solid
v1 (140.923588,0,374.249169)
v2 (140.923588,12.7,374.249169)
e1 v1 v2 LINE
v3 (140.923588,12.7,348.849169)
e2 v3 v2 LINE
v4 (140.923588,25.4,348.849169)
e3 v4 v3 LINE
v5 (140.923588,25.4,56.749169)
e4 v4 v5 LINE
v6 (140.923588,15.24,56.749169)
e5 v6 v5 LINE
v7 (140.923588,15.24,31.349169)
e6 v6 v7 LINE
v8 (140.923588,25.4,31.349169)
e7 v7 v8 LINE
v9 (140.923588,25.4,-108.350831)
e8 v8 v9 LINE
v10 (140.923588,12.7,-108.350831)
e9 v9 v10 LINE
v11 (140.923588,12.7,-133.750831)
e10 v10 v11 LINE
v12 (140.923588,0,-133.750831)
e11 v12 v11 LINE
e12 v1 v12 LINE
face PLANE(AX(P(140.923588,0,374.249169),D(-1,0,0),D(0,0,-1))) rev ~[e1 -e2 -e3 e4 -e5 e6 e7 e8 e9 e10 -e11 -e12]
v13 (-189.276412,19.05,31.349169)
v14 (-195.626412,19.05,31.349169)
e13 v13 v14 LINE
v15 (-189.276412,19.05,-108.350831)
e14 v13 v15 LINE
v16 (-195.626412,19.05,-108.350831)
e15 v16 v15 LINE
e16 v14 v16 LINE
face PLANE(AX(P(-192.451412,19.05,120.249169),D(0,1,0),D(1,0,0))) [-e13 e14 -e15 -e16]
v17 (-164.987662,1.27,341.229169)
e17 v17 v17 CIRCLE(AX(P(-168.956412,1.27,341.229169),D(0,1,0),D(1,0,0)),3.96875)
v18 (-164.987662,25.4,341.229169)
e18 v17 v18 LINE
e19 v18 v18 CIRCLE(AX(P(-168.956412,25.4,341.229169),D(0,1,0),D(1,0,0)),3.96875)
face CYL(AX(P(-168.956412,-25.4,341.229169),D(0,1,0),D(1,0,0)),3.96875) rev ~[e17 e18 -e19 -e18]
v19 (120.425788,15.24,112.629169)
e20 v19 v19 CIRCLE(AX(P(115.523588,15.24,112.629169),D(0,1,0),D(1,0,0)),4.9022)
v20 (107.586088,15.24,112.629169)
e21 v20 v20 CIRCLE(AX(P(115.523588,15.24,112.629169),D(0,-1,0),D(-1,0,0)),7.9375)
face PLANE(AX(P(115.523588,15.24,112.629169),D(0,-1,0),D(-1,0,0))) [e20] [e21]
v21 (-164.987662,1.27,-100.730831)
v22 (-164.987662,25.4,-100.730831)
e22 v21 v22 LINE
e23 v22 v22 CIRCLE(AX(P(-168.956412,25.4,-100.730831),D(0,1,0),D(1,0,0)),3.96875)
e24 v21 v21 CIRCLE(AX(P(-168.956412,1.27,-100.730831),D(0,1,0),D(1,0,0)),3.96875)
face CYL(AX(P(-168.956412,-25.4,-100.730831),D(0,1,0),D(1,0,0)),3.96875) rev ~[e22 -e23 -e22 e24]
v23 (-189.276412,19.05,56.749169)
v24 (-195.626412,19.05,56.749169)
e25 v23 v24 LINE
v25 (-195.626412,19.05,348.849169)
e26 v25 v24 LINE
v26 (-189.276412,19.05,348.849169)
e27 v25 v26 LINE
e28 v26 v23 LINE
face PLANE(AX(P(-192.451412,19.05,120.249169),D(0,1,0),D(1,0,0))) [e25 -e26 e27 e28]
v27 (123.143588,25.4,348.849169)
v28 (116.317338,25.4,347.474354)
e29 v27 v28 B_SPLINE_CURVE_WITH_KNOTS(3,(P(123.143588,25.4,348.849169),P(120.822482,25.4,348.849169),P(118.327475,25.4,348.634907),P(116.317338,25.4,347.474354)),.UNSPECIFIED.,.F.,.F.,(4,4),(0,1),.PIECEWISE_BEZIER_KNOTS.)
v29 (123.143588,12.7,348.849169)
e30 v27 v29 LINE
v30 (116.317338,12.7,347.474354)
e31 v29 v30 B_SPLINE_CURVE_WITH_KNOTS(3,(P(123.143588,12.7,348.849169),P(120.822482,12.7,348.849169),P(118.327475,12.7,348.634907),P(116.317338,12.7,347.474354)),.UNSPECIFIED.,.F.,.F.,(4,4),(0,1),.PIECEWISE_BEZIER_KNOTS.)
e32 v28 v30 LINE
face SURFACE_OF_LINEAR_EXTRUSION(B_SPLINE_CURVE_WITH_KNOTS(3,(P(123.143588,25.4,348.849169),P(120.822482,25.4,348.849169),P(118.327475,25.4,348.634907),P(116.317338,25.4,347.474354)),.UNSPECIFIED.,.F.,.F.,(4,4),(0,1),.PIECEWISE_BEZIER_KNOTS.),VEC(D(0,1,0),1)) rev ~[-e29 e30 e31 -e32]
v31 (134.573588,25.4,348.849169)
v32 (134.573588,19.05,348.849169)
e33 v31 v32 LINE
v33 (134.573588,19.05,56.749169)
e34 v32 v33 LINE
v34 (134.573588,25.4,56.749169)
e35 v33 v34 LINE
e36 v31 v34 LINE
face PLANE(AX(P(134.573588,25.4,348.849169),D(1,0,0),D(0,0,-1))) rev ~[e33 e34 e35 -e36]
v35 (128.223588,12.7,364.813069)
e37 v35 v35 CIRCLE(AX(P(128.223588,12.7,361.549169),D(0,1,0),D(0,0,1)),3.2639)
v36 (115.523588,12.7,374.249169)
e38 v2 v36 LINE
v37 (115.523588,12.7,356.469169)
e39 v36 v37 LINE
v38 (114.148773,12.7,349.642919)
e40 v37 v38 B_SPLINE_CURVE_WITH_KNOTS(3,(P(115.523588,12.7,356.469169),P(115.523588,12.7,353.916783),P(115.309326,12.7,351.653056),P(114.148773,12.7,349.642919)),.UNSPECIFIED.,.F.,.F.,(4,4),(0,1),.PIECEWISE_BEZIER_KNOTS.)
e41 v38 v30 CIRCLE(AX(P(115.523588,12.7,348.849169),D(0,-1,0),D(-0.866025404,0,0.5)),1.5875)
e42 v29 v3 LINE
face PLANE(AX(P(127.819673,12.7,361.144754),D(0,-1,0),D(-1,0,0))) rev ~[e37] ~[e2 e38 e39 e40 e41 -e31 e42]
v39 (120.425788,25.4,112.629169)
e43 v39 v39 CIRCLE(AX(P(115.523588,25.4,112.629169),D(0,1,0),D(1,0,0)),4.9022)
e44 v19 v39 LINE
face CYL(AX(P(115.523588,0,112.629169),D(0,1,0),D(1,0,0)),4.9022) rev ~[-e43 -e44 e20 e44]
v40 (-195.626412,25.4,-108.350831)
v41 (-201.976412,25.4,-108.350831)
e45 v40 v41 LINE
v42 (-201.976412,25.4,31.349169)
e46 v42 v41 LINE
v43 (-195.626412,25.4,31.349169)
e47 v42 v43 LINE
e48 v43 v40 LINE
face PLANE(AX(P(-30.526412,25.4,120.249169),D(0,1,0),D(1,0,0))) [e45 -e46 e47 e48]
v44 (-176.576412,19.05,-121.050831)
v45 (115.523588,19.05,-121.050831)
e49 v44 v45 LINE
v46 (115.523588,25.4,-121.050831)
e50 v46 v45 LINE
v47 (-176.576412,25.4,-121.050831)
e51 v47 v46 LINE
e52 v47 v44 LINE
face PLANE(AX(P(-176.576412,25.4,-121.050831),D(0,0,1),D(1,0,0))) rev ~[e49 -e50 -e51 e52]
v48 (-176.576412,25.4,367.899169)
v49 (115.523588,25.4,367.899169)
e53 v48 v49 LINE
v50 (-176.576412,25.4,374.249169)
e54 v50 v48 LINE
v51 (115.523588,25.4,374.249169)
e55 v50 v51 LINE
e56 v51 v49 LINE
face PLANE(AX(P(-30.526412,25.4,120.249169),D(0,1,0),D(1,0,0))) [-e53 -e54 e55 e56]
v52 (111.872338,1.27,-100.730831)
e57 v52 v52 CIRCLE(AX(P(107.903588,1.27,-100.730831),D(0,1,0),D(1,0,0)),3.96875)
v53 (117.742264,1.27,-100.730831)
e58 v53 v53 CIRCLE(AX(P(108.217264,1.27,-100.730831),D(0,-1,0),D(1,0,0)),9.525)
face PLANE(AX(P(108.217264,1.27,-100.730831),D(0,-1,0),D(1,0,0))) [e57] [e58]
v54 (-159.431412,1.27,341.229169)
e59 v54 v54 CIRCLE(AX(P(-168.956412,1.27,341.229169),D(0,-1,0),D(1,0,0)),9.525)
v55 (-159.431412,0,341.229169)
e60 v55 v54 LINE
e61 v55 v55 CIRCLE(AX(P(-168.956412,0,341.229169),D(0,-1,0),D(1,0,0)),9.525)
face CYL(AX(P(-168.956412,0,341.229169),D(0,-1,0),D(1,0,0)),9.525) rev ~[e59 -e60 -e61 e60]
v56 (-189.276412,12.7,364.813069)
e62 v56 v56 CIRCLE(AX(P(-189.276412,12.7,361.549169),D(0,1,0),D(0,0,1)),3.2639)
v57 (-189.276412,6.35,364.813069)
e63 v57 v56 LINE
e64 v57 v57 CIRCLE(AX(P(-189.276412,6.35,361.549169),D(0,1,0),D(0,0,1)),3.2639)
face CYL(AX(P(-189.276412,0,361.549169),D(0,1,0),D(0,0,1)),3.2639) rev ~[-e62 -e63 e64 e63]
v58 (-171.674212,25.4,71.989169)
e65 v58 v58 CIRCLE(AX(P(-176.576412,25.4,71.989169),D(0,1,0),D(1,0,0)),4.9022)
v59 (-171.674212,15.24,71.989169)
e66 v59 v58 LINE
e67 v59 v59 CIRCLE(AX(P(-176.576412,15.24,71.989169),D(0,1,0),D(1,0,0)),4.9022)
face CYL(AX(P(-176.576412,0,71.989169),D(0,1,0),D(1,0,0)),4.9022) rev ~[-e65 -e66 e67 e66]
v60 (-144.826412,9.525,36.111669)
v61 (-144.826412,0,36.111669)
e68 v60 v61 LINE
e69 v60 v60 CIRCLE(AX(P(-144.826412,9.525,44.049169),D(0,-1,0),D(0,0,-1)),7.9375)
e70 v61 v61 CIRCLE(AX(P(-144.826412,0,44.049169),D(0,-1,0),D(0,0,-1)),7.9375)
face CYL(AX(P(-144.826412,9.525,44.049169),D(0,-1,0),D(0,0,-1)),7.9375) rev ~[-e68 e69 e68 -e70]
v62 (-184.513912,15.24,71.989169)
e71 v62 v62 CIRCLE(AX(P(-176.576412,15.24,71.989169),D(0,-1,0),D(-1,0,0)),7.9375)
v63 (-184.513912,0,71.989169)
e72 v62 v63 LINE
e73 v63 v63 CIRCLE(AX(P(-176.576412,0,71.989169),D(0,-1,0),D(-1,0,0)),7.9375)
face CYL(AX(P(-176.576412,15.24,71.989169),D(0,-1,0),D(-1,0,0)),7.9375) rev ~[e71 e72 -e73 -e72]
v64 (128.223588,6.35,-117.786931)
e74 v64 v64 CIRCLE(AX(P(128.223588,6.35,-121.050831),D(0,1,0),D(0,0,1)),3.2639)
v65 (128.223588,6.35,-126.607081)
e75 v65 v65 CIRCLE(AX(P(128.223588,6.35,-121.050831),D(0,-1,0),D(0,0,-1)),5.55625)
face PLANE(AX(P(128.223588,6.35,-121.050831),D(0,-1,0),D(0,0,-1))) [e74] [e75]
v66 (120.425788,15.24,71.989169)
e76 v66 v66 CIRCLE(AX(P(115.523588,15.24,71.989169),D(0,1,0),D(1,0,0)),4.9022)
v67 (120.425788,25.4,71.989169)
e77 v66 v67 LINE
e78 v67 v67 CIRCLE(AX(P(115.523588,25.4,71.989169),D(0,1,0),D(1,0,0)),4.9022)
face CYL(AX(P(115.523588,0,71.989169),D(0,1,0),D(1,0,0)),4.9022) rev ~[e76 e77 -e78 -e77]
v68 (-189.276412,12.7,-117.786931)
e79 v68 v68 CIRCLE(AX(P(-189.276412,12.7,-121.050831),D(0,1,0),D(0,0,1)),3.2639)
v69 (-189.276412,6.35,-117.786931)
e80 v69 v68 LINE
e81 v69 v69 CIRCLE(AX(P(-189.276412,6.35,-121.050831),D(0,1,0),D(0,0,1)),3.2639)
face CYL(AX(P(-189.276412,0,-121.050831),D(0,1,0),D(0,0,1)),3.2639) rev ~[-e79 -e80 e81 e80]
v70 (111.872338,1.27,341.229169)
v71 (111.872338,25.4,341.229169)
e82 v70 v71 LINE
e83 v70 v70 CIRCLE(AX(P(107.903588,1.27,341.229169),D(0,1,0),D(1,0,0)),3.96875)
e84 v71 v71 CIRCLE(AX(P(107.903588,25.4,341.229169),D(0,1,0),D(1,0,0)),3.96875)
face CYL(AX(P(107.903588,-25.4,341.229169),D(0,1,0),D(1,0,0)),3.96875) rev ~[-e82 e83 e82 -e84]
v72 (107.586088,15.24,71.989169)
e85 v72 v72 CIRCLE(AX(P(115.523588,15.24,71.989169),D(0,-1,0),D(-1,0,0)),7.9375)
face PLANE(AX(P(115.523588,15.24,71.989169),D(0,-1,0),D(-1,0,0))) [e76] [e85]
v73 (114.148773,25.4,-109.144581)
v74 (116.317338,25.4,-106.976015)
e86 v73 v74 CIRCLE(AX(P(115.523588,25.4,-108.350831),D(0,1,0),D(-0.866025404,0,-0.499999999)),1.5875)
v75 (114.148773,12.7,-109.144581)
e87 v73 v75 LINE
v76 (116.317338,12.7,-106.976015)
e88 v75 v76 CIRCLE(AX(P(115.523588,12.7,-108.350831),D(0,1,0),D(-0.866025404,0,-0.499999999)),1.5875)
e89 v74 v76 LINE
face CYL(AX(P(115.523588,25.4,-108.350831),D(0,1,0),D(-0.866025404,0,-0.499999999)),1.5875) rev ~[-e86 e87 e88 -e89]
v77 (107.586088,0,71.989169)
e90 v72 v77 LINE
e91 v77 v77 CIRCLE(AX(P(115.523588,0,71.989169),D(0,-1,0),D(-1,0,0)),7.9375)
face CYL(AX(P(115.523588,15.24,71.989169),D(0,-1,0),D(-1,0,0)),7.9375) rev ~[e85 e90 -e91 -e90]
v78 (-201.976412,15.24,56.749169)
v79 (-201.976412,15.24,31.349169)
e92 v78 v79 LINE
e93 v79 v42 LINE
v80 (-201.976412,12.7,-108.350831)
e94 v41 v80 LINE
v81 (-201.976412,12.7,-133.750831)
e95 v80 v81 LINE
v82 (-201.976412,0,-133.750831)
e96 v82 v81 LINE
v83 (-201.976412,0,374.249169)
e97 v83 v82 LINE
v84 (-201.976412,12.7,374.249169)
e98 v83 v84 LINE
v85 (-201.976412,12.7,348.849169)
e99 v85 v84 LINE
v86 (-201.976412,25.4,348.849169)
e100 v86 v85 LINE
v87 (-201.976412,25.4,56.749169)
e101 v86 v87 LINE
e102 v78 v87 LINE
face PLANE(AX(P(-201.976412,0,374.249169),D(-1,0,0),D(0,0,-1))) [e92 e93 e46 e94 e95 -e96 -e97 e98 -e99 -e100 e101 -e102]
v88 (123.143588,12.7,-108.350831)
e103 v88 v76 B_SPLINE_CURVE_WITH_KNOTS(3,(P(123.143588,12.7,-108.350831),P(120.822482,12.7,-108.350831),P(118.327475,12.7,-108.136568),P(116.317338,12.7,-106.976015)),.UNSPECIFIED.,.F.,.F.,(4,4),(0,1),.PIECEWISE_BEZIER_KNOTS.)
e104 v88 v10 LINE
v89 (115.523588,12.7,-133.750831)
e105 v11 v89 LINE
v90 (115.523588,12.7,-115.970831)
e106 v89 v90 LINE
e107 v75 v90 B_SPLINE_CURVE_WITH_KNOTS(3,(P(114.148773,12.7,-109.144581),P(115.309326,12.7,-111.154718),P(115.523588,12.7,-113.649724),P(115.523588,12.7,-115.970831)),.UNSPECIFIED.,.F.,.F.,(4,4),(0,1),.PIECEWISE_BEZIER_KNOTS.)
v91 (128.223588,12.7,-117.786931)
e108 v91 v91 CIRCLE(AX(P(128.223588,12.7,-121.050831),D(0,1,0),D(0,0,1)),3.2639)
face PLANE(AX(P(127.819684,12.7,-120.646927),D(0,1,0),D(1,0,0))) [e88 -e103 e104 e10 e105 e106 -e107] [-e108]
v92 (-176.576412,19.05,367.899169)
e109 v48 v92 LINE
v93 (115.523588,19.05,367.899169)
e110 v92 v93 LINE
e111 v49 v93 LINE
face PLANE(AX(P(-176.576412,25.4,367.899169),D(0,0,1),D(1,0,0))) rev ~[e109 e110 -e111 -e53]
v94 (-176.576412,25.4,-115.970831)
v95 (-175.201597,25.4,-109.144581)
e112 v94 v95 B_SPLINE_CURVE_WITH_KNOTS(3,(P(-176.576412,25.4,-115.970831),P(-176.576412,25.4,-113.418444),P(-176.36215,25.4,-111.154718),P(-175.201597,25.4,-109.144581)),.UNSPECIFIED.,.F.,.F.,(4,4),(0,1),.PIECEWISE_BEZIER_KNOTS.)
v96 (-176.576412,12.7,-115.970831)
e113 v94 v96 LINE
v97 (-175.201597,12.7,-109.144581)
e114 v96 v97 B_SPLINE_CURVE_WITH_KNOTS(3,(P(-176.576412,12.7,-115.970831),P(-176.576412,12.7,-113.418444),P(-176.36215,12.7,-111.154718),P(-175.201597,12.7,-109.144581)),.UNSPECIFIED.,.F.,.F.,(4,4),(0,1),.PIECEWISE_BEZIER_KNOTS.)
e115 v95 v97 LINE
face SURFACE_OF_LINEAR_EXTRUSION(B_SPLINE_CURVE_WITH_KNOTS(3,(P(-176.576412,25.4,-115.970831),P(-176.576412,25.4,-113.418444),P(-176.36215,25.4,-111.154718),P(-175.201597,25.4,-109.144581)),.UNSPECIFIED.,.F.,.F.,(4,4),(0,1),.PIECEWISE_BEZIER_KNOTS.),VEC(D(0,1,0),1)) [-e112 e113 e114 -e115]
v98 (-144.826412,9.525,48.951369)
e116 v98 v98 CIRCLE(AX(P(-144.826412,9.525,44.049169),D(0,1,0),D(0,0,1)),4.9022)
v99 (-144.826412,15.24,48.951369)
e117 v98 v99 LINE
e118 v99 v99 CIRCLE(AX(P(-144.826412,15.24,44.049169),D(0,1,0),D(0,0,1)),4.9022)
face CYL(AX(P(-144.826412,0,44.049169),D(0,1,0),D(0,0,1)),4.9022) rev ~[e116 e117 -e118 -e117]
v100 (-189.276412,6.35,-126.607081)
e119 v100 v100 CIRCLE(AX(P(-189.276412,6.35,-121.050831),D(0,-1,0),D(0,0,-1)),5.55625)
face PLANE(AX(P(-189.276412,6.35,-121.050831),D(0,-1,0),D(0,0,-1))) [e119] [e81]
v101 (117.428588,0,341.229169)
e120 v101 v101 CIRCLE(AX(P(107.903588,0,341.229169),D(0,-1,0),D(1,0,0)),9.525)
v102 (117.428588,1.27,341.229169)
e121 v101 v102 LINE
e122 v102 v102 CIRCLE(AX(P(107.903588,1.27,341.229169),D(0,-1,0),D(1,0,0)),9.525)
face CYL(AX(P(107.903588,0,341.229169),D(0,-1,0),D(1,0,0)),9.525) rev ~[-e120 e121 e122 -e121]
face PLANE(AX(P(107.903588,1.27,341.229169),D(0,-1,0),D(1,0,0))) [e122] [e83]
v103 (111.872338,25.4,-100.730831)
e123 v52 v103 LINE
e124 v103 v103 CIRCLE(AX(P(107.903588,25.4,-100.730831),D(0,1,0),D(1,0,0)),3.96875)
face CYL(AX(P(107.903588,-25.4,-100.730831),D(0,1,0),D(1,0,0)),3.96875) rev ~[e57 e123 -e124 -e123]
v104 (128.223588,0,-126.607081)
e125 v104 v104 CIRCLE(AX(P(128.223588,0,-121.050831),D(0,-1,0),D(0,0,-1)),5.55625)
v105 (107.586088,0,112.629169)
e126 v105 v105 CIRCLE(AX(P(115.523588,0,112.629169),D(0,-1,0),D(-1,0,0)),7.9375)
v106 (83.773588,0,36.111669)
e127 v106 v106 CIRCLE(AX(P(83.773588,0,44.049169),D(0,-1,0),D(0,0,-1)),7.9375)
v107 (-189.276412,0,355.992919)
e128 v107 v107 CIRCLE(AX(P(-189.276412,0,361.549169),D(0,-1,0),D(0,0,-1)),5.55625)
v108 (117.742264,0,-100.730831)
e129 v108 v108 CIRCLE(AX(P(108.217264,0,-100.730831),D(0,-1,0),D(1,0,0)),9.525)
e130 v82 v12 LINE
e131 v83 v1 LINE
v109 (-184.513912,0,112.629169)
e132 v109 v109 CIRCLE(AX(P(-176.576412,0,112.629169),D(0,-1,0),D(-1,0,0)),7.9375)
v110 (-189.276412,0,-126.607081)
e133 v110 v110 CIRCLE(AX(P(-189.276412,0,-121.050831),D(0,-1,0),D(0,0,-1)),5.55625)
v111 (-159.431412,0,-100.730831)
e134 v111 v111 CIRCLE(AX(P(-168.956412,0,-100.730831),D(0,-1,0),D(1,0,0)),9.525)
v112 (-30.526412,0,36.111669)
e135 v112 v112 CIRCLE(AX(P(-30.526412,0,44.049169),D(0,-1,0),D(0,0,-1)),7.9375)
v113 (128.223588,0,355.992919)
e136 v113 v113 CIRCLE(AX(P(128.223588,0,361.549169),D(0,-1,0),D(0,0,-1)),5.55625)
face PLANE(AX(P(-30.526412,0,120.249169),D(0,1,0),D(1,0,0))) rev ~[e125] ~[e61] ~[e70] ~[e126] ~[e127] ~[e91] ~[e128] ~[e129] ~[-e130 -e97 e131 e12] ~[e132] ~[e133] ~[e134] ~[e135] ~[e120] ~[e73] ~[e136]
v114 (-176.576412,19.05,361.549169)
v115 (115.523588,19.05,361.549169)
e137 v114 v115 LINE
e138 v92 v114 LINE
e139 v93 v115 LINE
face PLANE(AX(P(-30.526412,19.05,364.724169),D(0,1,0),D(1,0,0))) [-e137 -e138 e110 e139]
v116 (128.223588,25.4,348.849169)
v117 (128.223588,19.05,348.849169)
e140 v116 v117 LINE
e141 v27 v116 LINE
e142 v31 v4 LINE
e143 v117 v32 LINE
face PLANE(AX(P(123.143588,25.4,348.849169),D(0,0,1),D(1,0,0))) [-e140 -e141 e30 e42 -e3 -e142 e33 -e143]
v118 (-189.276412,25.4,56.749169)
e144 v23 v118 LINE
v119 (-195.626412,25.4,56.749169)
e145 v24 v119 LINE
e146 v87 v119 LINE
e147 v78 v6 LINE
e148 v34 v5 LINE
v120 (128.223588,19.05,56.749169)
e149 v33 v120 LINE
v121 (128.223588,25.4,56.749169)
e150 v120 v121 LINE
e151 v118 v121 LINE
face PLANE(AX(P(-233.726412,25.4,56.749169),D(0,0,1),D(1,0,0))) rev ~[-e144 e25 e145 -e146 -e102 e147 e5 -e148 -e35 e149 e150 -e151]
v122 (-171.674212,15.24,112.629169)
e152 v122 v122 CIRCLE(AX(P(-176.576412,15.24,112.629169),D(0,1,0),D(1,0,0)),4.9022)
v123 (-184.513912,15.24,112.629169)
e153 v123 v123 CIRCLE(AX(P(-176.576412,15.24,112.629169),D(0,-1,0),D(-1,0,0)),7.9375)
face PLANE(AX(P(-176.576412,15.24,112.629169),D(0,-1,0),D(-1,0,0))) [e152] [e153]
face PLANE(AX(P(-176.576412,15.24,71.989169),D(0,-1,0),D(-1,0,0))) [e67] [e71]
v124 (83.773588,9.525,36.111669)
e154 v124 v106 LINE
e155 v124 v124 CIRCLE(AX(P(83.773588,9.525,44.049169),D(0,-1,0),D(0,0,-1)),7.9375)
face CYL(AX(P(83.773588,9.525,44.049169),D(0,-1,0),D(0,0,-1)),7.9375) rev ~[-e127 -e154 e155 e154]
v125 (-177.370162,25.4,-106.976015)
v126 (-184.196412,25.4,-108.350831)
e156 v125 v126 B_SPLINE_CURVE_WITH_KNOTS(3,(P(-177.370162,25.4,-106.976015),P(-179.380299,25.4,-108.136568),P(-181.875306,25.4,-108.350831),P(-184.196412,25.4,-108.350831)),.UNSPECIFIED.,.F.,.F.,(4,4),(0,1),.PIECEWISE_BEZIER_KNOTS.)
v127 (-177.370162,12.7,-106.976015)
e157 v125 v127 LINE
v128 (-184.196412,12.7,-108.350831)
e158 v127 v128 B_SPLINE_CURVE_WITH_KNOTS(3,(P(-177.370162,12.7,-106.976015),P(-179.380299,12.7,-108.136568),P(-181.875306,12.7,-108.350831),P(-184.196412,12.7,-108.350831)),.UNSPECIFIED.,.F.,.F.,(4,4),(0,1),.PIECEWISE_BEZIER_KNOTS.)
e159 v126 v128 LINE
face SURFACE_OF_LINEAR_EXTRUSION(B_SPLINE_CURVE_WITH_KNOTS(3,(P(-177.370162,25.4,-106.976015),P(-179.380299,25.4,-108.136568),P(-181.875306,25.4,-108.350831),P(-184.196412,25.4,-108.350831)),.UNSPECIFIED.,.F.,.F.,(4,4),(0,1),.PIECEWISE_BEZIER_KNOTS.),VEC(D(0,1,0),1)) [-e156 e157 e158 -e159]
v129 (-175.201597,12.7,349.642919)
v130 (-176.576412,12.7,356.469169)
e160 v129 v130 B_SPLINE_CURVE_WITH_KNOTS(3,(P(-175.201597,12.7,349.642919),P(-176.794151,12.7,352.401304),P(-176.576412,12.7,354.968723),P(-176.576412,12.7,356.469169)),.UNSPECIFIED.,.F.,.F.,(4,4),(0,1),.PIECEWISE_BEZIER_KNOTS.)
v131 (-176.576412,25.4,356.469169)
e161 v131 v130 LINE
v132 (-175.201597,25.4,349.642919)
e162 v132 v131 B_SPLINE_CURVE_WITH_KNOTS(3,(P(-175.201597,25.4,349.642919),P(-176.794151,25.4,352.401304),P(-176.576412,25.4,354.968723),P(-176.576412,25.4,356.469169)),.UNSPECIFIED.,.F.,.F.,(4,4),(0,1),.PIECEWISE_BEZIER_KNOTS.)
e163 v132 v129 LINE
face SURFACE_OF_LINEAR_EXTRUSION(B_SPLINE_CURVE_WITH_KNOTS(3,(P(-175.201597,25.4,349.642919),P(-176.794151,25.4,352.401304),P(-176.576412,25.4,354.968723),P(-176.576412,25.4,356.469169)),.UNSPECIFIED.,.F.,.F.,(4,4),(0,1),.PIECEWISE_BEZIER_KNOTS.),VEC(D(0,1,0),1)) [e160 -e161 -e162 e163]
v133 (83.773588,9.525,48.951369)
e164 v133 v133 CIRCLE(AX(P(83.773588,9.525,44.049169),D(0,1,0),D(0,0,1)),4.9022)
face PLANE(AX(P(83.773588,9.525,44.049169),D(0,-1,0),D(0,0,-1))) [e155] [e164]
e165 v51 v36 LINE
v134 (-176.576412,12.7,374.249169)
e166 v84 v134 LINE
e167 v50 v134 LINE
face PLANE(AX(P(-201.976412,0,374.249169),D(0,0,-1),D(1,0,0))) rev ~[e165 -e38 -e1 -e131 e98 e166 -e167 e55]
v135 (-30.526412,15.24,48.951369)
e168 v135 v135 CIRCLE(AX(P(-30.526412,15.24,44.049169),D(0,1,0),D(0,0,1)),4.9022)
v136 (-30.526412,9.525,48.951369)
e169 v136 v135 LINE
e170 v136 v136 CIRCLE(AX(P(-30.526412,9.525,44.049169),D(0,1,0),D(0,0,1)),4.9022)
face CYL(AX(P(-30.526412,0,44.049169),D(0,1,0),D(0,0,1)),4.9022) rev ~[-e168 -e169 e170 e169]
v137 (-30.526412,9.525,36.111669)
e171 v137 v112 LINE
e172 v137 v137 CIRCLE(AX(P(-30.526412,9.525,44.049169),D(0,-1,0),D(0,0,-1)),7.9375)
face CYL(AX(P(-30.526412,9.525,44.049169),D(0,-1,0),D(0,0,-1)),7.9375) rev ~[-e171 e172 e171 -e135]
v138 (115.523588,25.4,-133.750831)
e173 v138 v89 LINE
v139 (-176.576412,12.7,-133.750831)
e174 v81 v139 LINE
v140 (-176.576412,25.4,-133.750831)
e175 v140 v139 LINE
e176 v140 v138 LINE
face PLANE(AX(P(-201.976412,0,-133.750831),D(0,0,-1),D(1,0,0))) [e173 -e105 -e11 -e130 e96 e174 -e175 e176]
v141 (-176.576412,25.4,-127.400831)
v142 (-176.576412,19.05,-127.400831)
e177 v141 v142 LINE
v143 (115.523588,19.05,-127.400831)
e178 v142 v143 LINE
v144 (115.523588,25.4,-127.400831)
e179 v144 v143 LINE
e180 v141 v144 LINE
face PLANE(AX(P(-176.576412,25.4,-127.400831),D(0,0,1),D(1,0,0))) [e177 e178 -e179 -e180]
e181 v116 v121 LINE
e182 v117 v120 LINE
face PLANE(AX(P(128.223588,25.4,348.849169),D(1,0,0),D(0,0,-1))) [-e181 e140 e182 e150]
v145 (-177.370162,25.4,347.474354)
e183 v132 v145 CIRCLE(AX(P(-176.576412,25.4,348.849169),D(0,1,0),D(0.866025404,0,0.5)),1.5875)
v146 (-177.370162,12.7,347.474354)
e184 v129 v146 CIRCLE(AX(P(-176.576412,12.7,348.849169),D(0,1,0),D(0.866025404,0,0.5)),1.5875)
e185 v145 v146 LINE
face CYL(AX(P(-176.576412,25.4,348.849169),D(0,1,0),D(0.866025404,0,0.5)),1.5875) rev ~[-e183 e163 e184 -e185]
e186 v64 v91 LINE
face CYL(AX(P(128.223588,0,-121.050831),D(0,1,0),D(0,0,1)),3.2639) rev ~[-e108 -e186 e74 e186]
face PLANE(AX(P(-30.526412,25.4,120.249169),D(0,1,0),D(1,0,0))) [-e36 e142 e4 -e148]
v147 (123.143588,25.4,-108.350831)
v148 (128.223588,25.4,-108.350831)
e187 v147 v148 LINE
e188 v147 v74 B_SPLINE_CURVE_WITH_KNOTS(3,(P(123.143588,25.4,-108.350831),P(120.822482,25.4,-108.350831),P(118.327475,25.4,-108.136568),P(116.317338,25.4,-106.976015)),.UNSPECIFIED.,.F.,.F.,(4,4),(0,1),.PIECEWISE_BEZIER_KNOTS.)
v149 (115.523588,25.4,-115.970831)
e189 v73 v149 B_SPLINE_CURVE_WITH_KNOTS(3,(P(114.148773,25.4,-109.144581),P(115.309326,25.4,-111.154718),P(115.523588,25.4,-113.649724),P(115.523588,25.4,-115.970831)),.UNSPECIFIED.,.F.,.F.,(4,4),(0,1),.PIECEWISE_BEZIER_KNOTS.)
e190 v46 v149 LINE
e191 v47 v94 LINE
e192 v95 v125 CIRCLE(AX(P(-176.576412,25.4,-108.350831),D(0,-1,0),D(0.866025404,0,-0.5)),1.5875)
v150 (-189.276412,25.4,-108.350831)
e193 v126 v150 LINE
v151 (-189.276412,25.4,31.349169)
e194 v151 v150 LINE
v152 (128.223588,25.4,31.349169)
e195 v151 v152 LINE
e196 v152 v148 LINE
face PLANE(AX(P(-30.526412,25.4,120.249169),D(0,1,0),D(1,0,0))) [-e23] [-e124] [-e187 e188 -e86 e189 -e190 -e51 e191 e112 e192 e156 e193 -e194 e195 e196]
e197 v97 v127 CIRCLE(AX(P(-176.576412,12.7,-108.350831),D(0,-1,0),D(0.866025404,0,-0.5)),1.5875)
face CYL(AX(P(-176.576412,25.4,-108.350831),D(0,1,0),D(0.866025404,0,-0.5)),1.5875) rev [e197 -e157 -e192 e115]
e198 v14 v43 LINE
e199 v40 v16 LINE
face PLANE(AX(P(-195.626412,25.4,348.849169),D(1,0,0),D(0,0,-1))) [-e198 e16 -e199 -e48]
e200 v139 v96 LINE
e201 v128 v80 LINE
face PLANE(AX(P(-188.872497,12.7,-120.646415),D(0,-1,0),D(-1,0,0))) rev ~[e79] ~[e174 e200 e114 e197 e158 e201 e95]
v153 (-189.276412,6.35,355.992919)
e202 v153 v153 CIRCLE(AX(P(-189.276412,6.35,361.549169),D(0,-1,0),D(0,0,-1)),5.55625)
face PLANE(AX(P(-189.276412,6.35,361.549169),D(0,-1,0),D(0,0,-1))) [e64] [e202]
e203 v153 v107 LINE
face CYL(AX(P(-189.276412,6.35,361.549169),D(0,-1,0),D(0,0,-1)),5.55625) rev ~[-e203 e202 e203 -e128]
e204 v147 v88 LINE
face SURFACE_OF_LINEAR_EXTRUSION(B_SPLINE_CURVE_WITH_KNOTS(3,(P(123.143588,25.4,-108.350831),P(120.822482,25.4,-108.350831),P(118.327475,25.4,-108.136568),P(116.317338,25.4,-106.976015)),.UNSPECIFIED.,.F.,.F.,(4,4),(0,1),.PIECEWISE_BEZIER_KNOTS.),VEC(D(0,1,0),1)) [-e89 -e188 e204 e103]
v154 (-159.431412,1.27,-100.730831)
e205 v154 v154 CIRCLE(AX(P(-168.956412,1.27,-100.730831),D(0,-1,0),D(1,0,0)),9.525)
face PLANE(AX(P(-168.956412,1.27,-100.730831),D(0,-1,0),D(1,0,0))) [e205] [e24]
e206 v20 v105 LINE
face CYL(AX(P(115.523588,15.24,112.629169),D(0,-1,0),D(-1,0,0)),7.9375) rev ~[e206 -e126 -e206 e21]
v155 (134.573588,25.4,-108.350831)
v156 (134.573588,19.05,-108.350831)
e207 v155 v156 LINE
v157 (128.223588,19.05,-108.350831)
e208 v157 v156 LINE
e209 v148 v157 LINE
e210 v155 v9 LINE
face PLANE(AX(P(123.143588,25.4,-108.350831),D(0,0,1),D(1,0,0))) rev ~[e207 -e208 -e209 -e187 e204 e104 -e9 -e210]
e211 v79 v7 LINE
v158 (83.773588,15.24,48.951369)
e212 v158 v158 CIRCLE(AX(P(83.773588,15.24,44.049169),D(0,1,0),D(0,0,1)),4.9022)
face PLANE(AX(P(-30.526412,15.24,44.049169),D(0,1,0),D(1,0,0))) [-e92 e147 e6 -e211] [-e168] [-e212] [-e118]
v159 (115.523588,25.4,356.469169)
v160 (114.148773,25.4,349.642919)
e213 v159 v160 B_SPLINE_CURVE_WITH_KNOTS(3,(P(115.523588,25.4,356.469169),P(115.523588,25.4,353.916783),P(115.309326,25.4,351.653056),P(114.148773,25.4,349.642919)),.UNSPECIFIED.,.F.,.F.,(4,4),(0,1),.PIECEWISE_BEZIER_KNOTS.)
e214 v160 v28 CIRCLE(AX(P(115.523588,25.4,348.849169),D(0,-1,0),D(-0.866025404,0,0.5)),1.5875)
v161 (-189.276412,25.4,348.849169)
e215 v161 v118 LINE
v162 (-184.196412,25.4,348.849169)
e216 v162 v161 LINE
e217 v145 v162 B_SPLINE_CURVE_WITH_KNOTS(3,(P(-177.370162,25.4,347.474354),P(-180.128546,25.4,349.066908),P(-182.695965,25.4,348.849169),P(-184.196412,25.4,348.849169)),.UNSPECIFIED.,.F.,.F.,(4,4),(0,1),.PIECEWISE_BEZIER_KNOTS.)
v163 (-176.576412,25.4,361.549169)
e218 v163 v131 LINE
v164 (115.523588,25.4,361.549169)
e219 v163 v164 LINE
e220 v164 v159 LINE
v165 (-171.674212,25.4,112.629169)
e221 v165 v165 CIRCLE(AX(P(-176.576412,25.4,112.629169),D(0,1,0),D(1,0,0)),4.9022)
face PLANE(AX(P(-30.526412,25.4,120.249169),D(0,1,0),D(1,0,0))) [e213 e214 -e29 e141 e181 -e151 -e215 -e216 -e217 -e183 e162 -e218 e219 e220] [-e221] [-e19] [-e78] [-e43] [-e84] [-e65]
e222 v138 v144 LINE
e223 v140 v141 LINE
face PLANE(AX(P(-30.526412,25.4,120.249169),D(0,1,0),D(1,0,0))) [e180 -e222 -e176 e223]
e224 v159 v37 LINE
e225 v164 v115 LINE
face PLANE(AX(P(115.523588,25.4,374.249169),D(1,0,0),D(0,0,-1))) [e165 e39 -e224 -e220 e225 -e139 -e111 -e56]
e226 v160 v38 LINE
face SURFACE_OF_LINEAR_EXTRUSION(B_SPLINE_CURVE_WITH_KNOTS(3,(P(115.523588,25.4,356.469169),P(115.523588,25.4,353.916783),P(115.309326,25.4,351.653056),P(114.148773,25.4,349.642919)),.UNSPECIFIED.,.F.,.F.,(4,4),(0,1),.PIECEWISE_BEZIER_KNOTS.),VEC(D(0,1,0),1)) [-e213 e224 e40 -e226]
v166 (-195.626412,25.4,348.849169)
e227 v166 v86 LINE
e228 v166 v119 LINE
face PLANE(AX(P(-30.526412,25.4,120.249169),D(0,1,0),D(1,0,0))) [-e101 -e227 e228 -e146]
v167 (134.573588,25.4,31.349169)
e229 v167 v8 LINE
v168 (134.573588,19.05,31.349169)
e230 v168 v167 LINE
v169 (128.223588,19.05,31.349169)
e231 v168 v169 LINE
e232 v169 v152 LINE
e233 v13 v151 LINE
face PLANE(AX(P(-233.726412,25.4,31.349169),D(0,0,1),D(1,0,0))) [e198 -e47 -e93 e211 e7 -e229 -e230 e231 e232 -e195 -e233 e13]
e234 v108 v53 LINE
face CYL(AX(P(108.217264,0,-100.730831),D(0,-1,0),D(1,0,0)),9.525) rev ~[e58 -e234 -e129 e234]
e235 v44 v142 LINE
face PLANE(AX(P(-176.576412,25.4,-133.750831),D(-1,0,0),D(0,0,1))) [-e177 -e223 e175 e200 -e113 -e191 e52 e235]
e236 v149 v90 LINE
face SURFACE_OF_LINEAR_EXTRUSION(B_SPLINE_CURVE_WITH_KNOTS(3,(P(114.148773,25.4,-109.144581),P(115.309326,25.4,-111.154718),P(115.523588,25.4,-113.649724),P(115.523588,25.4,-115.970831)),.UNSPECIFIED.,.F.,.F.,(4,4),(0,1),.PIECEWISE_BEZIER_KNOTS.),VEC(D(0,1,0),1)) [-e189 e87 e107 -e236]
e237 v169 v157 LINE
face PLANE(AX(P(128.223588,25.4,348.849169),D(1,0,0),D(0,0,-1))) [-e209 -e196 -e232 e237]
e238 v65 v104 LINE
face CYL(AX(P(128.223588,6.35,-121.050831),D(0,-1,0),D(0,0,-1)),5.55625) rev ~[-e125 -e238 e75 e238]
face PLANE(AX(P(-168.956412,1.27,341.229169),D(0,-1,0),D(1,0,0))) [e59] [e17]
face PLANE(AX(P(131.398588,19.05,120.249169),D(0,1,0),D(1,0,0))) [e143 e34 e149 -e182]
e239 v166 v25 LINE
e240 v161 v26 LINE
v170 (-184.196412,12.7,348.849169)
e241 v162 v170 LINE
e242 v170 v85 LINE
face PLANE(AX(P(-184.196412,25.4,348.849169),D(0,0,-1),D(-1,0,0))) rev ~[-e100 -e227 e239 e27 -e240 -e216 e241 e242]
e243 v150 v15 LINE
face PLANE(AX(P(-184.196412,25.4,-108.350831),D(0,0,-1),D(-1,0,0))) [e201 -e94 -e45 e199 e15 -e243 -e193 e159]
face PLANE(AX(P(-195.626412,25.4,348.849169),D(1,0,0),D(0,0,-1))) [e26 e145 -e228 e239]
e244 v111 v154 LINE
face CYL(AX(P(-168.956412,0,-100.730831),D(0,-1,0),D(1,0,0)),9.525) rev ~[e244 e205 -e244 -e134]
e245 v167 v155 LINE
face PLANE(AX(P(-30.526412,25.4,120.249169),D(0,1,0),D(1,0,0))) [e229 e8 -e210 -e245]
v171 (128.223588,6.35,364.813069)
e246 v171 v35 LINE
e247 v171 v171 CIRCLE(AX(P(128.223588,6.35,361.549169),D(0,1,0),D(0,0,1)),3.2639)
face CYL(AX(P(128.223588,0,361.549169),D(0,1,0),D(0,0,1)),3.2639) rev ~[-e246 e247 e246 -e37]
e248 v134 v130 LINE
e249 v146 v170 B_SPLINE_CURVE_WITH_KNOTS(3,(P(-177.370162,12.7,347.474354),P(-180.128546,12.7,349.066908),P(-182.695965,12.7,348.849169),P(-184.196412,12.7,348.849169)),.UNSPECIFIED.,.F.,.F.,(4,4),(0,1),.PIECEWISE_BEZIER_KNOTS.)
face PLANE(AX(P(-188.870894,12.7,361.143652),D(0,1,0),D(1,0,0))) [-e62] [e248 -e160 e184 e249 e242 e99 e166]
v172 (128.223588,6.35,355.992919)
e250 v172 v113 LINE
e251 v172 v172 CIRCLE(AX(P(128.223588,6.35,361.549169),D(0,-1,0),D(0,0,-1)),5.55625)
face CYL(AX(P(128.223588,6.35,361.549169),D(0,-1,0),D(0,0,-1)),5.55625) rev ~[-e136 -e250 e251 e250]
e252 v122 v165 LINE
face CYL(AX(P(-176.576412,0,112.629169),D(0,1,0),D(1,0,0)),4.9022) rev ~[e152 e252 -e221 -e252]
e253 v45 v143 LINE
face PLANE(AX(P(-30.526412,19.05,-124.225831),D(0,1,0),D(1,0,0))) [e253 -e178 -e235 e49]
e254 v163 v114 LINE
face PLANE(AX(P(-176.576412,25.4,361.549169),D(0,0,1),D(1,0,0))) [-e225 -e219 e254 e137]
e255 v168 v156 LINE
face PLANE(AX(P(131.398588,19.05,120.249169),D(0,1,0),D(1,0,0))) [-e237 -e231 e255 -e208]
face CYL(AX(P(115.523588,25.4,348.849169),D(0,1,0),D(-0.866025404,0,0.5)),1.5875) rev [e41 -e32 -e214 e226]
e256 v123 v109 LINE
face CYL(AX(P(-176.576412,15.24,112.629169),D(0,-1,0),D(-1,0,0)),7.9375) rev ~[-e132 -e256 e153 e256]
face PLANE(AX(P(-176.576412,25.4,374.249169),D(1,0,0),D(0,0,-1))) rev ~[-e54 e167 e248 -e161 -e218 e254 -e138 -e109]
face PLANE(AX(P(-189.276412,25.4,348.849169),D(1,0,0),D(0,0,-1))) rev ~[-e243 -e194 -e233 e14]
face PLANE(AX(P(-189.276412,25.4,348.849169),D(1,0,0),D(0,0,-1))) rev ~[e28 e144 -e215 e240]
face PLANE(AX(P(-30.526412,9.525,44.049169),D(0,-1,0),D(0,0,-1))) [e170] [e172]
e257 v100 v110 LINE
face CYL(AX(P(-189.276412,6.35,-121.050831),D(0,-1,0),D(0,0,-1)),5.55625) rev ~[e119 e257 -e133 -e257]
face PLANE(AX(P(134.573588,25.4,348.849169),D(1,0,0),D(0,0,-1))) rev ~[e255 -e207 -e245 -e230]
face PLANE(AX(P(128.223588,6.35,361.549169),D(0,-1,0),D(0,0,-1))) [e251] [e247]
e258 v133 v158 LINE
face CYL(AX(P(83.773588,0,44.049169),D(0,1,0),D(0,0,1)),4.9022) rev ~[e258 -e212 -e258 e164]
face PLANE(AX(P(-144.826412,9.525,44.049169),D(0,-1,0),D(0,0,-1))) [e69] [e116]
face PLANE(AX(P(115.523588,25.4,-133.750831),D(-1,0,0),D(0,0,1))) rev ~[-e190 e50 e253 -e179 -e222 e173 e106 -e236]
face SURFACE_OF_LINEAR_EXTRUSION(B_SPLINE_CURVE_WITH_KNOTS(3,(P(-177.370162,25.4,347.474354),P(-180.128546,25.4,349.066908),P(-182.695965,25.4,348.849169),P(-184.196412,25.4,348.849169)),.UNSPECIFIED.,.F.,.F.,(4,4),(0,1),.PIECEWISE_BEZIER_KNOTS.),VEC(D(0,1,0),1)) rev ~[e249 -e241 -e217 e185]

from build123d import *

# Parameters (mm, degrees)
BASE_W                                           = 342.9
BASE_H                                           = 508
BOSS_EXTRUDE1_DEPTH                              = 25.4
SKETCH2_W                                        = 406.4
SKETCH2_H                                        = 25.4
CUT_EXTRUDE1_DEPTH                               = 10.16
CBORE_FOR_3_8_SOCKET_HEAD_CAP_SCREW4_D           = 9.8044
CBORE_FOR_3_8_SOCKET_HEAD_CAP_SCREW4_DEPTH       = 15.24
CBORE_FOR_3_8_SOCKET_HEAD_CAP_SCREW4_CBORE_D     = 15.875
CBORE_FOR_3_8_SOCKET_HEAD_CAP_SCREW4_CBORE_DEPTH = 9.525
CBORE_FOR_3_8_SOCKET_HEAD_CAP_SCREW3_D           = 9.8044
CBORE_FOR_3_8_SOCKET_HEAD_CAP_SCREW3_DEPTH       = 25.4
CBORE_FOR_3_8_SOCKET_HEAD_CAP_SCREW3_CBORE_D     = 15.875
CBORE_FOR_3_8_SOCKET_HEAD_CAP_SCREW3_CBORE_DEPTH = 15.24
CBORE_FOR_1_4_SOCKET_HEAD_CAP_SCREW1_D           = 6.5278
CBORE_FOR_1_4_SOCKET_HEAD_CAP_SCREW1_DEPTH       = 25.4
CBORE_FOR_1_4_SOCKET_HEAD_CAP_SCREW1_CBORE_D     = 11.1125
CBORE_FOR_1_4_SOCKET_HEAD_CAP_SCREW1_CBORE_DEPTH = 6.35
CUT_EXTRUDE3_DEPTH                               = 12.7
SKETCH10_W                                       = 6.35
SKETCH10_H                                       = 457.2
SKETCH10_W_2                                     = 292.1
SKETCH10_H_2                                     = 6.35
CUT_EXTRUDE4_DEPTH                               = 6.35
F_3_8_16_TAPPED_HOLE2_D                          = 7.9375
F_3_8_16_TAPPED_HOLE2_DEPTH                      = 25.4
SKETCH19_R                                       = 9.525
CUT_EXTRUDE5_DEPTH                               = 1.27


with BuildPart() as part:
    # Base → Boss-Extrude1 (new body)
    with BuildSketch(Plane(origin=(0, 0, 0), x_dir=(1, 0, 0), z_dir=(0, 1, 0))):
        with Locations((-30.52641196, -120.249169435)):
            Rectangle(BASE_W, BASE_H)
    extrude(amount=BOSS_EXTRUDE1_DEPTH)

    # Sketch2 → Cut-Extrude1 (cut)
    with BuildSketch(Plane(origin=(0, 25.4, 0), x_dir=(1, 0, 0), z_dir=(0, 1, 0))):
        with Locations((-30.52641196, -44.049169435)):
            Rectangle(SKETCH2_W, SKETCH2_H)
    extrude(amount=-CUT_EXTRUDE1_DEPTH, mode=Mode.SUBTRACT)

    # CBORE for 3/8 Socket Head Cap Screw4
    with Locations(Plane(origin=(83.77358804, 0, 44.049169435), x_dir=(0, 0, -1), z_dir=(0, -1, 0))):
        with Locations((0, 0), (0, -114.3), (0, -228.6)):
            CounterBoreHole(CBORE_FOR_3_8_SOCKET_HEAD_CAP_SCREW4_D / 2, CBORE_FOR_3_8_SOCKET_HEAD_CAP_SCREW4_CBORE_D / 2, CBORE_FOR_3_8_SOCKET_HEAD_CAP_SCREW4_CBORE_DEPTH, depth=CBORE_FOR_3_8_SOCKET_HEAD_CAP_SCREW4_DEPTH)

    # CBORE for 3/8 Socket Head Cap Screw3
    with Locations(Plane(origin=(0, 0, 0), x_dir=(-1, 0, 0), z_dir=(0, -1, 0))):
        with Locations((-115.52358804, -71.989169435), (-115.52358804, -112.629169435), (176.57641196, -71.989169435), (176.57641196, -112.629169435)):
            CounterBoreHole(CBORE_FOR_3_8_SOCKET_HEAD_CAP_SCREW3_D / 2, CBORE_FOR_3_8_SOCKET_HEAD_CAP_SCREW3_CBORE_D / 2, CBORE_FOR_3_8_SOCKET_HEAD_CAP_SCREW3_CBORE_DEPTH, depth=CBORE_FOR_3_8_SOCKET_HEAD_CAP_SCREW3_DEPTH)

    # CBORE for 1/4 Socket Head Cap Screw1
    with Locations(Plane(origin=(128.22358804, 0, 361.549169435), x_dir=(0, 0, -1), z_dir=(0, -1, 0))):
        with Locations((0, 0), (0, -317.5), (482.6, -317.5), (482.6, 0)):
            CounterBoreHole(CBORE_FOR_1_4_SOCKET_HEAD_CAP_SCREW1_D / 2, CBORE_FOR_1_4_SOCKET_HEAD_CAP_SCREW1_CBORE_D / 2, CBORE_FOR_1_4_SOCKET_HEAD_CAP_SCREW1_CBORE_DEPTH, depth=CBORE_FOR_1_4_SOCKET_HEAD_CAP_SCREW1_DEPTH)

    # Sketch8 → Cut-Extrude3 (cut)
    with BuildSketch(Plane(origin=(0, 25.4, 0), x_dir=(1, 0, 0), z_dir=(0, 1, 0))):
        with BuildLine():
            Line((140.92358804, -374.249169435), (115.52358804, -374.249169435))
            Line((115.52358804, -374.249169435), (115.52358804, -356.469169435))
            add(Edge.make_bspline(
                [(115.52358804, -356.469169435), (115.52358804, -353.916782548), (115.309325815, -351.653056376), (114.148772711, -349.642919435)],
                knots=[0, 0, 0, 0, 1, 1, 1, 1], degree=3))
            ThreePointArc((114.148772711, -349.642919435), (114.401056025, -347.72663742), (116.31733804, -347.474354107))
            add(Edge.make_bspline(
                [(123.14358804, -348.849169435), (120.822481832, -348.849169435), (118.327474981, -348.634907211), (116.31733804, -347.474354107)],
                knots=[0, 0, 0, 0, 1, 1, 1, 1], degree=3))
            Line((123.14358804, -348.849169435), (140.92358804, -348.849169435))
            Line((140.92358804, -348.849169435), (140.92358804, -374.249169435))
        make_face()
        with BuildLine():
            Line((-201.97641196, -374.249169435), (-176.57641196, -374.249169435))
            Line((-176.57641196, -374.249169435), (-176.57641196, -356.469169435))
            add(Edge.make_bspline(
                [(-175.201596632, -349.642919435), (-176.794150567, -352.401303766), (-176.57641196, -354.968722974), (-176.57641196, -356.469169435)],
                knots=[0, 0, 0, 0, 1, 1, 1, 1], degree=3))
            ThreePointArc((-175.201596632, -349.642919435), (-175.453879945, -347.72663742), (-177.37016196, -347.474354107))
            add(Edge.make_bspline(
                [(-177.37016196, -347.474354107), (-180.128546291, -349.066908042), (-182.695965499, -348.849169435), (-184.19641196, -348.849169435)],
                knots=[0, 0, 0, 0, 1, 1, 1, 1], degree=3))
            Line((-184.19641196, -348.849169435), (-201.97641196, -348.849169435))
            Line((-201.97641196, -348.849169435), (-201.97641196, -374.249169435))
        make_face()
        with BuildLine():
            Line((-201.97641196, 133.750830565), (-176.57641196, 133.750830565))
            Line((-176.57641196, 133.750830565), (-176.57641196, 115.970830565))
            add(Edge.make_bspline(
                [(-176.57641196, 115.970830565), (-176.57641196, 113.418443678), (-176.362149736, 111.154717506), (-175.201596632, 109.144580565)],
                knots=[0, 0, 0, 0, 1, 1, 1, 1], degree=3))
            ThreePointArc((-175.201596632, 109.144580565), (-175.453879945, 107.22829855), (-177.37016196, 106.976015236))
            add(Edge.make_bspline(
                [(-177.37016196, 106.976015236), (-179.380298901, 108.13656834), (-181.875305752, 108.350830565), (-184.19641196, 108.350830565)],
                knots=[0, 0, 0, 0, 1, 1, 1, 1], degree=3))
            Line((-184.19641196, 108.350830565), (-201.97641196, 108.350830565))
            Line((-201.97641196, 108.350830565), (-201.97641196, 133.750830565))
        make_face()
        with BuildLine():
            Line((140.92358804, 133.750830565), (115.52358804, 133.750830565))
            Line((115.52358804, 133.750830565), (115.52358804, 115.970830565))
            add(Edge.make_bspline(
                [(114.148772711, 109.144580565), (115.309325815, 111.154717506), (115.52358804, 113.649724357), (115.52358804, 115.970830565)],
                knots=[0, 0, 0, 0, 1, 1, 1, 1], degree=3))
            ThreePointArc((114.148772711, 109.144580565), (114.401056025, 107.22829855), (116.31733804, 106.976015236))
            add(Edge.make_bspline(
                [(123.14358804, 108.350830565), (120.822481832, 108.350830565), (118.327474981, 108.13656834), (116.31733804, 106.976015236)],
                knots=[0, 0, 0, 0, 1, 1, 1, 1], degree=3))
            Line((123.14358804, 108.350830565), (140.92358804, 108.350830565))
            Line((140.92358804, 108.350830565), (140.92358804, 133.750830565))
        make_face()
    extrude(amount=-CUT_EXTRUDE3_DEPTH, mode=Mode.SUBTRACT)

    # Sketch10 → Cut-Extrude4 (cut)
    with BuildSketch(Plane(origin=(0, 25.4, 0), x_dir=(1, 0, 0), z_dir=(0, 1, 0))):
        with Locations((131.39858804, -120.249169435)):
            Rectangle(SKETCH10_W, SKETCH10_H)
        with Locations((-192.45141196, -120.249169435)):
            Rectangle(SKETCH10_W, SKETCH10_H)
        with Locations((-30.52641196, 124.225830565)):
            Rectangle(SKETCH10_W_2, SKETCH10_H_2)
        with Locations((-30.52641196, -364.724169435)):
            Rectangle(SKETCH10_W_2, SKETCH10_H_2)
    extrude(amount=-CUT_EXTRUDE4_DEPTH, mode=Mode.SUBTRACT)

    # 3/8-16 Tapped Hole2
    with Locations(Plane(origin=(0, 0, 0), x_dir=(-1, 0, 0), z_dir=(0, -1, 0))):
        with Locations((-107.90358804, -341.229169435), (168.95641196, -341.229169435), (168.95641196, 100.730830565), (-107.90358804, 100.730830565)):
            Hole(F_3_8_16_TAPPED_HOLE2_D / 2, depth=F_3_8_16_TAPPED_HOLE2_DEPTH)

    # Sketch19 → Cut-Extrude5 (cut)
    with BuildSketch(Plane.XZ):
        with Locations((-168.95641196, -100.730830565)):
            Circle(SKETCH19_R)
        with Locations((-168.95641196, 341.229169435)):
            Circle(SKETCH19_R)
        with Locations((107.90358804, 341.229169435)):
            Circle(SKETCH19_R)
        with Locations((108.217263786, -100.730830565)):
            Circle(SKETCH19_R)
    extrude(amount=-CUT_EXTRUDE5_DEPTH, mode=Mode.SUBTRACT)


solid = part.part
